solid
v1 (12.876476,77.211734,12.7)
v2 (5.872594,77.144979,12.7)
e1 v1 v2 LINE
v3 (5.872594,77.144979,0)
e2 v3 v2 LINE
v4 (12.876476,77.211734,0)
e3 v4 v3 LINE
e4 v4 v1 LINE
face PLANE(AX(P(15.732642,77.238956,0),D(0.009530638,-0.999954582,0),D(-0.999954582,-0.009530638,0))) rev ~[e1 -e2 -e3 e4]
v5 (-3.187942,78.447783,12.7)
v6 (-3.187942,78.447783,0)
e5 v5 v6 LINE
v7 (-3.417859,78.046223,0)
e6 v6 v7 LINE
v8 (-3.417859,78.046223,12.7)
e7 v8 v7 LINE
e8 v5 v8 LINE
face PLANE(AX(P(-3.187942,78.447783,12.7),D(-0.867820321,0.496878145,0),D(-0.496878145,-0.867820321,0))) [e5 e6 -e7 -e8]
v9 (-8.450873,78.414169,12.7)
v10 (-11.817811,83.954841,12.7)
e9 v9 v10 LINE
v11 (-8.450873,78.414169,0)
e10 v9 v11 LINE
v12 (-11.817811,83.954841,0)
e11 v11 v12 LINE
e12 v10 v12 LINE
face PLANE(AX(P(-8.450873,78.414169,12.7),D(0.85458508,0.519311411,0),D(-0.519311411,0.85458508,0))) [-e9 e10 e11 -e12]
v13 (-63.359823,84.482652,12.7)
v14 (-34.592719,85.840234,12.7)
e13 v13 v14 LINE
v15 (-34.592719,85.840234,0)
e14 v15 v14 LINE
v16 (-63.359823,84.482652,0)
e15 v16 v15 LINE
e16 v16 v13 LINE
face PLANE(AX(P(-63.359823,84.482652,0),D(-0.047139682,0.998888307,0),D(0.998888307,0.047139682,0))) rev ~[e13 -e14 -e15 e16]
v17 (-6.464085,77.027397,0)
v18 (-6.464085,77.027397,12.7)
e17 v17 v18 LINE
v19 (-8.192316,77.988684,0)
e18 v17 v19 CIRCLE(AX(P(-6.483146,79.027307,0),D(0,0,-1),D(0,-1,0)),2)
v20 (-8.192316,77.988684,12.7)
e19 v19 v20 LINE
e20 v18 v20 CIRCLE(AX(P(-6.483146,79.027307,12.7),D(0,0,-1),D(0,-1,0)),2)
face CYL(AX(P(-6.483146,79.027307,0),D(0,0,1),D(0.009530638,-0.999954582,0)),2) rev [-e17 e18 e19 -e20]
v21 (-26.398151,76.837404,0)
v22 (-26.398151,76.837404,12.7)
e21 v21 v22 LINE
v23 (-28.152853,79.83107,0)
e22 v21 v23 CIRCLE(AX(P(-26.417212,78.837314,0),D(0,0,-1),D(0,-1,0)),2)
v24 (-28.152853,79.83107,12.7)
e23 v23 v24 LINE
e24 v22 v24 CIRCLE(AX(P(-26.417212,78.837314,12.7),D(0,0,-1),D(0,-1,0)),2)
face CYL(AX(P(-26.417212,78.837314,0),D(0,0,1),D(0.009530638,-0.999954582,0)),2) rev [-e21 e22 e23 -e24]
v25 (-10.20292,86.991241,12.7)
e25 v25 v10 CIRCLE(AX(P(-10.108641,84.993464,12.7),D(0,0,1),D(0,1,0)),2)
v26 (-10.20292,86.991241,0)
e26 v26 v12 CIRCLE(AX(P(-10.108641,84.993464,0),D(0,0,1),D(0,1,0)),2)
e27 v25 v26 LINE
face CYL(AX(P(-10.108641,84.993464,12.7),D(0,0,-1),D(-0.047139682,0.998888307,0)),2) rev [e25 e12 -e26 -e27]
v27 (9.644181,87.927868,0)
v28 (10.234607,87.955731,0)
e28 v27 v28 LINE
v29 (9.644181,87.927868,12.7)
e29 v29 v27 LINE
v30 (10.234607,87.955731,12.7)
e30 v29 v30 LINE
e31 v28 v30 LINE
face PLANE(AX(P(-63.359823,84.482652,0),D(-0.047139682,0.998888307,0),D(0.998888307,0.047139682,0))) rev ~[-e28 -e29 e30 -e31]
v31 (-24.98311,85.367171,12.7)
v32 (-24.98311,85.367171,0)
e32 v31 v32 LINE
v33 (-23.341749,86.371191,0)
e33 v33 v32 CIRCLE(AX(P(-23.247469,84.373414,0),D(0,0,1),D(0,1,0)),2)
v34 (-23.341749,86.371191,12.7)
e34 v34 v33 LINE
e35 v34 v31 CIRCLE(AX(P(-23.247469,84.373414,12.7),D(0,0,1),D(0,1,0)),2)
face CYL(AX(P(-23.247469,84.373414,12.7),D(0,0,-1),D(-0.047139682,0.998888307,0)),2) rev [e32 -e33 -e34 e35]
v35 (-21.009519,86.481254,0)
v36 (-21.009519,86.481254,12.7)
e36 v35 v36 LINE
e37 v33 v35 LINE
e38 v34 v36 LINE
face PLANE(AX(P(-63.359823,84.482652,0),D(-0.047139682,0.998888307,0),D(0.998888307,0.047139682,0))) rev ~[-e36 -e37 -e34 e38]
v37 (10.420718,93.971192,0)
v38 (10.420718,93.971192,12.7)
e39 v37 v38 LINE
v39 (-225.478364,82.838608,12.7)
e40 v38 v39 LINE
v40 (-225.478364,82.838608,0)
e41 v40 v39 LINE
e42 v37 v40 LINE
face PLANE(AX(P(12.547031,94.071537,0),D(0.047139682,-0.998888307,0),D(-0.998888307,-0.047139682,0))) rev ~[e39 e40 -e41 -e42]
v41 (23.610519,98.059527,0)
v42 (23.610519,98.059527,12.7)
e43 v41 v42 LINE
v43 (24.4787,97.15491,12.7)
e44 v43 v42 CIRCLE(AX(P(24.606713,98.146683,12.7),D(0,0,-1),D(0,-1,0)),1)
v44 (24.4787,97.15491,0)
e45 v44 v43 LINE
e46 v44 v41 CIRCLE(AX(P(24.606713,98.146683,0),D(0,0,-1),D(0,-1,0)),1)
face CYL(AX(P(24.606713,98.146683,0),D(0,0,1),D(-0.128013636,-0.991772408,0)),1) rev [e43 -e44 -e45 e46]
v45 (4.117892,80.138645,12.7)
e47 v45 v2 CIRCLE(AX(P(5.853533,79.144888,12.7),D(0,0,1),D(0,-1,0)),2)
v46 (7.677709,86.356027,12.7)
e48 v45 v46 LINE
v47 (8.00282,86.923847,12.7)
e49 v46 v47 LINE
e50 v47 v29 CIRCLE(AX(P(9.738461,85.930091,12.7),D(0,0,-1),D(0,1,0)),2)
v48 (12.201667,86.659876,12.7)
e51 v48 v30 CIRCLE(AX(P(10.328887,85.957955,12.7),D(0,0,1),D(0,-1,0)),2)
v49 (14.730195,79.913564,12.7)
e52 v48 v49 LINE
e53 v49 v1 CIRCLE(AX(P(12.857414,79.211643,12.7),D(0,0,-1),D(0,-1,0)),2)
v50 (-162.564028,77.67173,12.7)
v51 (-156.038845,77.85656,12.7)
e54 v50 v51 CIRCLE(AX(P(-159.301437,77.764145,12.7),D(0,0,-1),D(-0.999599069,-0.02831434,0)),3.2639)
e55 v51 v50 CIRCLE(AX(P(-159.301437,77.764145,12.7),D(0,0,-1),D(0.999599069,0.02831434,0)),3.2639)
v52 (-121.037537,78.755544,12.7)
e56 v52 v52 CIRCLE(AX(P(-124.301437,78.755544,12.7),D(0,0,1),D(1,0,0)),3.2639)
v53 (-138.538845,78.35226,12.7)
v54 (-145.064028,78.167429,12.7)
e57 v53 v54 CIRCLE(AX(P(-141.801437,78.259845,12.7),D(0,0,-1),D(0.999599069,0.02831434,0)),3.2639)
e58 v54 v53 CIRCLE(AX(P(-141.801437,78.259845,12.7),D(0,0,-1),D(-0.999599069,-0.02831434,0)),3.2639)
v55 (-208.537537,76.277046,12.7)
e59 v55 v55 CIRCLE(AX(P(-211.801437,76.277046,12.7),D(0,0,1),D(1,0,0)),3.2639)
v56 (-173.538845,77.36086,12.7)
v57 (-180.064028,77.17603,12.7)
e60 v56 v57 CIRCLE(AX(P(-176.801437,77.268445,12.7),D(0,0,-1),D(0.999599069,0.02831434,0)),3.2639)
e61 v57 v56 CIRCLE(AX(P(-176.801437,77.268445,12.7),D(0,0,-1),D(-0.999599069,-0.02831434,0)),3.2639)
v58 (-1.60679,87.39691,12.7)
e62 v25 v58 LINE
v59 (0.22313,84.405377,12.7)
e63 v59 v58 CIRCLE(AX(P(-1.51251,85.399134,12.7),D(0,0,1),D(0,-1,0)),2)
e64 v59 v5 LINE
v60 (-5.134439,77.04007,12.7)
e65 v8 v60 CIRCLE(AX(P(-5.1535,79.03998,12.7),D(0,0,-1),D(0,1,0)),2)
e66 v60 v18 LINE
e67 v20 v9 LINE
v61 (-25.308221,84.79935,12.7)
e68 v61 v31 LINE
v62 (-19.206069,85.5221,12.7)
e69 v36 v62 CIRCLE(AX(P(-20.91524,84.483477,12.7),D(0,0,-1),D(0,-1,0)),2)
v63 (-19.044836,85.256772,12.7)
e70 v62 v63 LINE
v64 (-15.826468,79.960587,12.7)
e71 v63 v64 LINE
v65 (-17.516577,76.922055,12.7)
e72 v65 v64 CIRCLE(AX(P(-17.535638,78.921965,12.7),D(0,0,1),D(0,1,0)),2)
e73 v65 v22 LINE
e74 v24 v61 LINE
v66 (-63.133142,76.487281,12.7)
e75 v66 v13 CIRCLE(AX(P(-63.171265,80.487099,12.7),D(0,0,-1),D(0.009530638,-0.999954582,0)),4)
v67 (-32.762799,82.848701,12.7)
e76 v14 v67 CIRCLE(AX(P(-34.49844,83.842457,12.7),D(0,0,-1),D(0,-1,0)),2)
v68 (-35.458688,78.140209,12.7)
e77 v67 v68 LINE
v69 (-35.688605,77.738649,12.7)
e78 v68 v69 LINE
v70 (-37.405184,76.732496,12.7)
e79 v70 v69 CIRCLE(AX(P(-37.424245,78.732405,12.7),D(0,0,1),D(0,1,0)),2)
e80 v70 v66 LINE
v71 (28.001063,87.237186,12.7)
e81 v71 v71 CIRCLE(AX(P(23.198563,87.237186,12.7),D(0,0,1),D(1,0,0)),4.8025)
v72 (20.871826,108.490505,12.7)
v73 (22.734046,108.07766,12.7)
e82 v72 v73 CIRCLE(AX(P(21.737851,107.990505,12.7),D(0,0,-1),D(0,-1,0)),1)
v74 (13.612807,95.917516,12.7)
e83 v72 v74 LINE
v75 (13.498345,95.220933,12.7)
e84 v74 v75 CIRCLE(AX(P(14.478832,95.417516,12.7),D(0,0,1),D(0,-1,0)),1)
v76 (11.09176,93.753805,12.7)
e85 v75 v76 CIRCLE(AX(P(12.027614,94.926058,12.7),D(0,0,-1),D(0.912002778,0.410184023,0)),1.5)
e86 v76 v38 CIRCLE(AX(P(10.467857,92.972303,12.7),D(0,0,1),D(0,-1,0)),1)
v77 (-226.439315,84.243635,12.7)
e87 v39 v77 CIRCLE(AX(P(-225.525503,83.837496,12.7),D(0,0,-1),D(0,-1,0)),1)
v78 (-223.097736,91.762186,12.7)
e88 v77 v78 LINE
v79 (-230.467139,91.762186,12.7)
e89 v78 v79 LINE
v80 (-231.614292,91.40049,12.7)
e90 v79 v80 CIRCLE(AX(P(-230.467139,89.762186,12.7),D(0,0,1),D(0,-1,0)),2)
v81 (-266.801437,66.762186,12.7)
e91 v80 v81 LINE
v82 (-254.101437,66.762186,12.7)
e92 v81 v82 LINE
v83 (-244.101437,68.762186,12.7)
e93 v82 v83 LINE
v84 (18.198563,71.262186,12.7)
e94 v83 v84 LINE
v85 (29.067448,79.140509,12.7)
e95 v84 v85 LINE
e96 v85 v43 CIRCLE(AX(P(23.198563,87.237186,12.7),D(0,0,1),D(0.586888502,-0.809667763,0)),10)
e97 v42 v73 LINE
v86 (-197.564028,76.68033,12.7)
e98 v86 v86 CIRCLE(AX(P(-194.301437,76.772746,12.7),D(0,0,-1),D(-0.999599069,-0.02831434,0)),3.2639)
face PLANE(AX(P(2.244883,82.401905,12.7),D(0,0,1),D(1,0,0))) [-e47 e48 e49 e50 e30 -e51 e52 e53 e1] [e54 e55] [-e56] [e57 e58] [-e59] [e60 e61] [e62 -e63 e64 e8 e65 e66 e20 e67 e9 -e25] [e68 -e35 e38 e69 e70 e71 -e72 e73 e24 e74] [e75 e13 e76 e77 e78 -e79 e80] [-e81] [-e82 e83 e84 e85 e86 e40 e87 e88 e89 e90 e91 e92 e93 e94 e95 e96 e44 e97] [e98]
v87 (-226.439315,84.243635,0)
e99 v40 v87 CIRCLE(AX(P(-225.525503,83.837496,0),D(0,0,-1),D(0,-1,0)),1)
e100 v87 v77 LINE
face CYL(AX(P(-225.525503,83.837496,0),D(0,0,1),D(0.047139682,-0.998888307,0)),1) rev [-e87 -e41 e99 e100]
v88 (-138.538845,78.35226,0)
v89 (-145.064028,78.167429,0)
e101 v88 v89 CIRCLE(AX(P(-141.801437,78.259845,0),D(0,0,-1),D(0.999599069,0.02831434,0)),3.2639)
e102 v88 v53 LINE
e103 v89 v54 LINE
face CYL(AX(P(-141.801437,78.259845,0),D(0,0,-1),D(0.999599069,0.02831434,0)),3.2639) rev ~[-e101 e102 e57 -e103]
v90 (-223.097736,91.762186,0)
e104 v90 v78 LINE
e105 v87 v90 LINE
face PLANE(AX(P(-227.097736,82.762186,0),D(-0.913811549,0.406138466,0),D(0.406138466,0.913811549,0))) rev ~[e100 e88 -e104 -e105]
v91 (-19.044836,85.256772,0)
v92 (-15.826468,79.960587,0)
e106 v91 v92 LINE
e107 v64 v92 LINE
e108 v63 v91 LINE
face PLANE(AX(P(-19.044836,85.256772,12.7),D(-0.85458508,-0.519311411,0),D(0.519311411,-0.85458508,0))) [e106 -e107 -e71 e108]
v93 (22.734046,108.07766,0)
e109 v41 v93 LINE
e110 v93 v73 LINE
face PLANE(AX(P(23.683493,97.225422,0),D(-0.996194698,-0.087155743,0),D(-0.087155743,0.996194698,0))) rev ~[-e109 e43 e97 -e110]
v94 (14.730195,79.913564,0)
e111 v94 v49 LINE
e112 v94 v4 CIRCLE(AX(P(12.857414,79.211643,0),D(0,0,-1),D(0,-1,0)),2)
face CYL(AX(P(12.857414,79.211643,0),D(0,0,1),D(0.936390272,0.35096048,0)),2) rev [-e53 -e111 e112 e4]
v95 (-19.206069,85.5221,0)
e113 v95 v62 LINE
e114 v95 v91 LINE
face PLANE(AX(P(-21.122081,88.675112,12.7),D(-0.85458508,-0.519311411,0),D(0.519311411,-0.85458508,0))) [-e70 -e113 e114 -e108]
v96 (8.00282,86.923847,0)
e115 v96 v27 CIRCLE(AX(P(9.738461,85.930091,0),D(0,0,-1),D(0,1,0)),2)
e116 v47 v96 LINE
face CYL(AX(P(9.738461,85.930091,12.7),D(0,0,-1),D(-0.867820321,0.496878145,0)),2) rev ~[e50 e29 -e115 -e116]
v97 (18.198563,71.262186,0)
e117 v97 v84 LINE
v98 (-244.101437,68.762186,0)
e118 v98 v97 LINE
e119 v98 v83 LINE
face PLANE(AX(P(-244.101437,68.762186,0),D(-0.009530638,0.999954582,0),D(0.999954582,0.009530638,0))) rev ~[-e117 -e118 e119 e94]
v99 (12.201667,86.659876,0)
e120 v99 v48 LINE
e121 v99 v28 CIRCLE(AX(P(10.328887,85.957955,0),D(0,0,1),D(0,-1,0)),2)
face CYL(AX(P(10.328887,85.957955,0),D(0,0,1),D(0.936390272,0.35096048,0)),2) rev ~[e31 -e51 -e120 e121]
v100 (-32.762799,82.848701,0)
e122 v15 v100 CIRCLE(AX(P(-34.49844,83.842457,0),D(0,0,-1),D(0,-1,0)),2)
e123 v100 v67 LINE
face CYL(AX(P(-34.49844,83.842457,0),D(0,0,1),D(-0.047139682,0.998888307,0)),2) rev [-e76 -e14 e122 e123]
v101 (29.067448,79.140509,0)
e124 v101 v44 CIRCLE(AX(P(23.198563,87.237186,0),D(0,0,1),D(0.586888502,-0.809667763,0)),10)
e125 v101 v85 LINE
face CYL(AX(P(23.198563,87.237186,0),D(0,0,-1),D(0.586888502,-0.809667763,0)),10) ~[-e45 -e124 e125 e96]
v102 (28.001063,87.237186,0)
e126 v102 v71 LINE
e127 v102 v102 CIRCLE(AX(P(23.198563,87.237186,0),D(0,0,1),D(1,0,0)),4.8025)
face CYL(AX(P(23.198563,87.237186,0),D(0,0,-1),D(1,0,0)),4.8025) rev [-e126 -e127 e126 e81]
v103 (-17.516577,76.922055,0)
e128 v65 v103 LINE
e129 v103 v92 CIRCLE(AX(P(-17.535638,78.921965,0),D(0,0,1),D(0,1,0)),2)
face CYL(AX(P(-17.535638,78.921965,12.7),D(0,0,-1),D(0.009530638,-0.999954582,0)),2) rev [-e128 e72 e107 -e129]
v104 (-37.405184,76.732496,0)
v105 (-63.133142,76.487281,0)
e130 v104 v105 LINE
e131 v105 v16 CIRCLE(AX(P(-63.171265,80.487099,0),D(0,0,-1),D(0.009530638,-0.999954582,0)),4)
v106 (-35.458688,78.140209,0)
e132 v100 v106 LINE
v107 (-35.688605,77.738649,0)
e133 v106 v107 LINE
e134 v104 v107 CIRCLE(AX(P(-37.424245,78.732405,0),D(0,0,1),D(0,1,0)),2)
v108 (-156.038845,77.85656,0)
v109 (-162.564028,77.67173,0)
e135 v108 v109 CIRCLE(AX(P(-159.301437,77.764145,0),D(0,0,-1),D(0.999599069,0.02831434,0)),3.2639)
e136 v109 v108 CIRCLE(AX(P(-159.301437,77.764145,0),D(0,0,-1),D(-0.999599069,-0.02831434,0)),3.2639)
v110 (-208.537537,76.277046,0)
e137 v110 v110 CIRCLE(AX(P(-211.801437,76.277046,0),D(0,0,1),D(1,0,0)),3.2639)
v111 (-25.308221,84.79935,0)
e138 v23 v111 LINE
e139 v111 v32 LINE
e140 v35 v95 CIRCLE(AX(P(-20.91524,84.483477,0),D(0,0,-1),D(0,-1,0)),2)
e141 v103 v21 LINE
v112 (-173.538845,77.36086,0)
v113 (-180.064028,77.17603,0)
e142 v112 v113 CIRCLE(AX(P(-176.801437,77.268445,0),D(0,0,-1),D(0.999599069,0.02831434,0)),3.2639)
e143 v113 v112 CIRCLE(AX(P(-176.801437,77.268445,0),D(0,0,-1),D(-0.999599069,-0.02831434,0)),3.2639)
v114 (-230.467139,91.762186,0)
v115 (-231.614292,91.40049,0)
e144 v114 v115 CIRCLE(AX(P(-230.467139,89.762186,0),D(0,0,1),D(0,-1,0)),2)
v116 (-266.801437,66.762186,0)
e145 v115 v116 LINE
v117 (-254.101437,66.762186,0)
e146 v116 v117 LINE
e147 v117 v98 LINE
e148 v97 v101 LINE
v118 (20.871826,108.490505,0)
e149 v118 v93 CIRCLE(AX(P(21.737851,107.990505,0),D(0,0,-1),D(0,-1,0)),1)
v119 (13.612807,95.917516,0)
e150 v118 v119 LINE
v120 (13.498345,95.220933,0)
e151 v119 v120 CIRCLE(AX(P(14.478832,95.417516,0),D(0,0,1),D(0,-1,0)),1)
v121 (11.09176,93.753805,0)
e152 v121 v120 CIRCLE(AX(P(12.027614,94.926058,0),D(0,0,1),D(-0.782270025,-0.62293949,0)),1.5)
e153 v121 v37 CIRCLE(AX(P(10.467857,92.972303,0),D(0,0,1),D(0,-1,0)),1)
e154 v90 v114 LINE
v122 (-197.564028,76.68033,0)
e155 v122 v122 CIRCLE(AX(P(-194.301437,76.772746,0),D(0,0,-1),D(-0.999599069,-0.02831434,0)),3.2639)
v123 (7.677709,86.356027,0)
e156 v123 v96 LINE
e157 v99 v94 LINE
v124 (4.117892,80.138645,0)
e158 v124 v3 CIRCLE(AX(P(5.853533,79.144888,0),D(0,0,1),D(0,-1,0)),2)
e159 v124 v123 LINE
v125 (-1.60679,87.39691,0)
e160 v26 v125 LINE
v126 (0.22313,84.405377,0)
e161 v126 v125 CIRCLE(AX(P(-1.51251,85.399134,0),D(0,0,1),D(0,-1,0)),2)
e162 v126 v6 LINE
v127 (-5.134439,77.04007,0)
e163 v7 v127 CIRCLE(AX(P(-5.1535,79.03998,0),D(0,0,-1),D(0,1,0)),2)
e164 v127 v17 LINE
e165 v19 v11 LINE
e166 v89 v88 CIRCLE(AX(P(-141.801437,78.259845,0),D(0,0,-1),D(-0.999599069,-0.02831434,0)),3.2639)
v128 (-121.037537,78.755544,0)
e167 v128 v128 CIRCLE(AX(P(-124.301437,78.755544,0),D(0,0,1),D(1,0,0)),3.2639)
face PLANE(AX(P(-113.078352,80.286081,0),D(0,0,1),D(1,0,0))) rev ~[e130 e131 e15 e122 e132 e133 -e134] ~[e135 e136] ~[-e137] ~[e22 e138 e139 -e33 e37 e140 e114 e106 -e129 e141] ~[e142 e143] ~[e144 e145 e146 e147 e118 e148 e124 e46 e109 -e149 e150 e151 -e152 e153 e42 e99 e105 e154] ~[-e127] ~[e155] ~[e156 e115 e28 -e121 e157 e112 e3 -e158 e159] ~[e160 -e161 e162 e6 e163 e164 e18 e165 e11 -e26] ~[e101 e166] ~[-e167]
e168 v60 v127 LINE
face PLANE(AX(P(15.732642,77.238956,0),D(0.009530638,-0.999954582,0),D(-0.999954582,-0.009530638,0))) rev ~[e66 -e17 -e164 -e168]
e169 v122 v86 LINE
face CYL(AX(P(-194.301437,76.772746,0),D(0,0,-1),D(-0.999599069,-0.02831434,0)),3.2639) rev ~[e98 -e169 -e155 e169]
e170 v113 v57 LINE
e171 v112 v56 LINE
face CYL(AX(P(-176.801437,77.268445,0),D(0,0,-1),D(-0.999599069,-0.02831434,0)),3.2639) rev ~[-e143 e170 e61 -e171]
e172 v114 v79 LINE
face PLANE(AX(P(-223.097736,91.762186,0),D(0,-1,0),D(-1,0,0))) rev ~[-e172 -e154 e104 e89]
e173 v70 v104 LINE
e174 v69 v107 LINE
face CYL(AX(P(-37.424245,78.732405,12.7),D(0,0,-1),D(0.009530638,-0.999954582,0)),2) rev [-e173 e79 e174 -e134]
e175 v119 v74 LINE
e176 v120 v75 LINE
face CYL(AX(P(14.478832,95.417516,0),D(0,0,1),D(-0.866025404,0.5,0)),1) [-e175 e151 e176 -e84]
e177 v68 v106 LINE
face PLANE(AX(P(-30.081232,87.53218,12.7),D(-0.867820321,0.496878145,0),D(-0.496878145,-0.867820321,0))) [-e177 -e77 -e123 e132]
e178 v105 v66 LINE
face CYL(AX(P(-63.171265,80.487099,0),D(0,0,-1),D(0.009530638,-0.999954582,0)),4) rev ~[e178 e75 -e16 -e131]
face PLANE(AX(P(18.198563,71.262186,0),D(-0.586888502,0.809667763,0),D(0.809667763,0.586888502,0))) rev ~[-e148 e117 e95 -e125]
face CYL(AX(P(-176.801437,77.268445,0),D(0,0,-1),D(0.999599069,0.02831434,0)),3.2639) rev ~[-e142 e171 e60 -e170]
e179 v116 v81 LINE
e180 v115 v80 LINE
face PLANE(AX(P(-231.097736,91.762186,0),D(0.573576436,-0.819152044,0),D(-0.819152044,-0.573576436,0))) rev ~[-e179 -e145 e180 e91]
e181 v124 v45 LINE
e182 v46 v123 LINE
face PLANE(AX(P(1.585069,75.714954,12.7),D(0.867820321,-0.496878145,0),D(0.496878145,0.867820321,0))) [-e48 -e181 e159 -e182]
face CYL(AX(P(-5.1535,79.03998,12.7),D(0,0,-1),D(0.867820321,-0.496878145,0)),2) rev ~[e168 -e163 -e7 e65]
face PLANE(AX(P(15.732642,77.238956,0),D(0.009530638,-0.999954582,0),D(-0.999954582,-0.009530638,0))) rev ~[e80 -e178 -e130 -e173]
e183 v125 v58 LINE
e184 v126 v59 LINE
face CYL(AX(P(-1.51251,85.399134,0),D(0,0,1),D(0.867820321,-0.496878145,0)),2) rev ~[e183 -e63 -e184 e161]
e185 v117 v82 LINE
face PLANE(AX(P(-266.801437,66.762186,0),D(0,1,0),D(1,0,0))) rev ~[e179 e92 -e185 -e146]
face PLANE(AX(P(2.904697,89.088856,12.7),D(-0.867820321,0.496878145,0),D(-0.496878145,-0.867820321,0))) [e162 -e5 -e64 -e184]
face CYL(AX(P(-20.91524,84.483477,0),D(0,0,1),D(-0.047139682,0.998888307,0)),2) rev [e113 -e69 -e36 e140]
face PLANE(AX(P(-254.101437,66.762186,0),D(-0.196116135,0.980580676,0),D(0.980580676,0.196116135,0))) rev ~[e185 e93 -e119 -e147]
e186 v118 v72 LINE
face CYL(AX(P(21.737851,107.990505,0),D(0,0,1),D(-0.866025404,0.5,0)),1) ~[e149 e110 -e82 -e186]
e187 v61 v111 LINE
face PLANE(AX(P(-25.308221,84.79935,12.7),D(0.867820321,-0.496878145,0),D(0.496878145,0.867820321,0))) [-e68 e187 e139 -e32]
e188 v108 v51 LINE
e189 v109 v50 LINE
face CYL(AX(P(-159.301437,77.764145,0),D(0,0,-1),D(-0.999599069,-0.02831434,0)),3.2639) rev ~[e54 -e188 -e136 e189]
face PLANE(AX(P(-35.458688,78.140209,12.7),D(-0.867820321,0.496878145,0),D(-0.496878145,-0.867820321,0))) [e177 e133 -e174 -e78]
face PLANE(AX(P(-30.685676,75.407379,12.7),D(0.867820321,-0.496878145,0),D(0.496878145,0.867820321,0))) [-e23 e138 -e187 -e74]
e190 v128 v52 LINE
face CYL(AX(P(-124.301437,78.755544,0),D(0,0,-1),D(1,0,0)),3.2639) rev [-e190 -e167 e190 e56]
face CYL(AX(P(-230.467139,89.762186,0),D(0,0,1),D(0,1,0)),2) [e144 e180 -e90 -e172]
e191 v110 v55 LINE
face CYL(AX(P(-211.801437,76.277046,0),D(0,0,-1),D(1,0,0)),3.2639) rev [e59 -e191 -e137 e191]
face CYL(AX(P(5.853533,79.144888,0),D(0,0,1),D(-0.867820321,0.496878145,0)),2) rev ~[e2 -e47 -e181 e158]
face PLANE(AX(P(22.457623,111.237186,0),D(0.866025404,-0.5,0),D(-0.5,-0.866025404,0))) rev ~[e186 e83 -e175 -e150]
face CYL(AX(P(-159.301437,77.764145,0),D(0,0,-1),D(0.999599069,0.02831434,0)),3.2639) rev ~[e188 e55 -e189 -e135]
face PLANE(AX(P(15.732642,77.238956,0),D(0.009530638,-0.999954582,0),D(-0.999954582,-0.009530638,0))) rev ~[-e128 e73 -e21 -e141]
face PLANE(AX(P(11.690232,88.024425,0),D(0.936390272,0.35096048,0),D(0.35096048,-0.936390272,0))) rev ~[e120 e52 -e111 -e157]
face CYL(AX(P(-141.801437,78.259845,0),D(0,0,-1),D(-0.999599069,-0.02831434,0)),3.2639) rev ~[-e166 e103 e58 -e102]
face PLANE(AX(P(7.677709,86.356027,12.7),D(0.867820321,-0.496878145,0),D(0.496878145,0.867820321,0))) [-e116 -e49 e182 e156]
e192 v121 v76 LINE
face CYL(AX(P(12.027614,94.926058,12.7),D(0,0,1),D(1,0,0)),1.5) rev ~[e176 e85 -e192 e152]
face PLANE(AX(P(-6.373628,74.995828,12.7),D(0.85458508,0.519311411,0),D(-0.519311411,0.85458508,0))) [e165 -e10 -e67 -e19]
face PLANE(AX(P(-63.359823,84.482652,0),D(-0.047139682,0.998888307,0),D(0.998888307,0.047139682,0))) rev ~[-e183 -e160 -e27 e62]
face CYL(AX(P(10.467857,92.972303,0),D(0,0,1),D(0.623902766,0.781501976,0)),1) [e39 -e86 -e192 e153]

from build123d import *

# Parameters (mm, degrees)
SKETCH1_R           = 3.2639
SKETCH1_R_2         = 4.8025
BOSS_EXTRUDE1_DEPTH = 12.7
SKETCH2_R           = 1.5
CUT_EXTRUDE1_DEPTH  = 290.340643879
EXTRUDE_THIN1_DEPTH = 12.7
FILLET1_R           = 2
FILLET2_R           = 1
FILLET3_R           = 1
FILLET4_R           = 2
FILLET5_R           = 1


with BuildPart() as part:
    # Sketch1 → Boss-Extrude1 (new body)
    with BuildSketch(Plane.XY):
        with BuildLine():
            Line((-266.801436578, 66.762186411), (-254.101436578, 66.762186411))
            Line((-254.101436578, 66.762186411), (-244.101436578, 68.762186411))
            Line((-244.101436578, 68.762186411), (18.198563422, 71.262186411))
            Line((18.198563422, 71.262186411), (29.067448443, 79.140508783))
            ThreePointArc((29.067448443, 79.140508783), (32.782860984, 90.090472281), (23.683493494, 97.225421632))
            Line((23.683493494, 97.225421632), (22.457622919, 111.237186411))
            Line((22.457622919, 111.237186411), (12.547030644, 94.071537057))
            Line((12.547030644, 94.071537057), (-227.097736409, 82.762186411))
            Line((-227.097736409, 82.762186411), (-223.097736409, 91.762186411))
            Line((-223.097736409, 91.762186411), (-231.097736409, 91.762186411))
            Line((-231.097736409, 91.762186411), (-266.801436578, 66.762186411))
        make_face()
        with Locations((-211.801436578, 76.277045814)):
            Circle(SKETCH1_R, mode=Mode.SUBTRACT)
        with BuildLine():
            ThreePointArc((-191.038845177, 76.865160679), (-194.209021403, 73.510154104), (-197.564027978, 76.68033033))
            ThreePointArc((-197.564027978, 76.68033033), (-194.393851752, 80.035336905), (-191.038845177, 76.865160679))
        make_face(mode=Mode.SUBTRACT)
        with BuildLine():
            ThreePointArc((-173.538845177, 77.360860369), (-176.709021403, 74.005853795), (-180.064027978, 77.176030021))
            ThreePointArc((-180.064027978, 77.176030021), (-176.893851752, 80.531036596), (-173.538845177, 77.360860369))
        make_face(mode=Mode.SUBTRACT)
        with BuildLine():
            ThreePointArc((-156.038845177, 77.85656006), (-159.209021403, 74.501553486), (-162.564027978, 77.671729712))
            ThreePointArc((-162.564027978, 77.671729712), (-159.393851752, 81.026736286), (-156.038845177, 77.85656006))
        make_face(mode=Mode.SUBTRACT)
        with BuildLine():
            ThreePointArc((-138.538845177, 78.352259751), (-141.709021403, 74.997253177), (-145.064027978, 78.167429403))
            ThreePointArc((-145.064027978, 78.167429403), (-141.893851752, 81.522435977), (-138.538845177, 78.352259751))
        make_face(mode=Mode.SUBTRACT)
        with Locations((-124.301436578, 78.755544268)):
            Circle(SKETCH1_R, mode=Mode.SUBTRACT)
        with BuildLine():
            ThreePointArc((-63.133141977, 76.487280646), (-67.169657877, 80.373738274), (-63.359823259, 84.482652205))
            Line((-63.359823259, 84.482652205), (11.69023184, 88.024425303))
            Line((11.69023184, 88.024425303), (15.732641912, 77.238956055))
            Line((15.732641912, 77.238956055), (-63.133141977, 76.487280646))
        make_face(mode=Mode.SUBTRACT)
        with Locations((23.198563422, 87.237186411)):
            Circle(SKETCH1_R_2, mode=Mode.SUBTRACT)
    extrude(amount=BOSS_EXTRUDE1_DEPTH)

    # Sketch2 → Cut-Extrude1 (cut, through all)
    with BuildSketch(Plane.XY.offset(12.7)):
        with Locations((12.027614403, 94.926058425)):
            Circle(SKETCH2_R)
    extrude(amount=-CUT_EXTRUDE1_DEPTH, mode=Mode.SUBTRACT)

    # Sketch3 → Extrude-Thin1 (add)
    with BuildSketch(Plane.XY.offset(12.7)):
        Polygon((4.395331666, 91.692317271), (2.904697232, 89.088856309), (-3.18794246, 78.447783473), (-4.678576894, 75.84432251), (0.09443487, 73.111492713), (1.585069304, 75.714953675), (7.677708996, 86.356026512), (9.16834343, 88.959487474), align=None)
        Polygon((-6.373627789, 74.99582825), (-8.450873433, 78.41416857), (-14.34461761, 88.112984603), (-16.421863253, 91.531324922), (-21.122081192, 88.675112163), (-19.044835548, 85.256771844), (-13.151091371, 75.55795581), (-11.073845728, 72.139615491), align=None)
        Polygon((-28.590598026, 90.135640487), (-30.081232461, 87.532179525), (-35.458687829, 78.140208698), (-36.949322263, 75.536747736), (-32.176310499, 72.803917938), (-30.685676065, 75.407378901), (-25.308220697, 84.799349728), (-23.817586262, 87.40281069), align=None)
    extrude(amount=-EXTRUDE_THIN1_DEPTH)

    # Fillet1
    fillet1_edges = [part.edges().sort_by_distance(p)[0] for p in [
        (8.548063104, 87.87613962, 6.35),
        (-14.000387945, 76.955568427, 6.35),
        (-19.822952565, 86.537250529, 6.35),
        (-7.601576859, 77.016555952, 6.35),
        (-13.566500594, 86.832505919, 6.35),
        (-36.258428338, 76.743425458, 6.35),
        (-30.951586569, 86.012066417, 6.35),
        (-29.885935555, 76.804162141, 6.35),
        (-24.437866589, 86.319462836, 6.35),
        (15.732641912, 77.238956055, 6.35),
        (11.69023184, 88.024425303, 6.35),
        (-3.987682969, 77.051000232, 6.35),
        (2.034343123, 87.568743201, 6.35),
        (2.384809814, 77.111736915, 6.35),
    ]]
    fillet(fillet1_edges, radius=FILLET1_R)

    # Fillet2
    fillet2_edges = [part.edges().sort_by_distance(p)[0] for p in [
        (13.39561857, 95.54133446, 6.35),
        (10.854209367, 93.991649189, 6.35),
    ]]
    fillet(fillet2_edges, radius=FILLET2_R)

    # Fillet3
    fillet3_edges = [part.edges().sort_by_distance(p)[0] for p in [
        (-227.097736409, 82.762186411, 6.35),
    ]]
    fillet(fillet3_edges, radius=FILLET3_R)

    # Fillet4
    fillet4_edges = [part.edges().sort_by_distance(p)[0] for p in [
        (-231.097736409, 91.762186411, 6.35),
    ]]
    fillet(fillet4_edges, radius=FILLET4_R)

    # Fillet5
    fillet5_edges = [part.edges().sort_by_distance(p)[0] for p in [
        (22.457622919, 111.237186411, 6.35),
        (23.683493494, 97.225421632, 6.35),
    ]]
    fillet(fillet5_edges, radius=FILLET5_R)


solid = part.part
